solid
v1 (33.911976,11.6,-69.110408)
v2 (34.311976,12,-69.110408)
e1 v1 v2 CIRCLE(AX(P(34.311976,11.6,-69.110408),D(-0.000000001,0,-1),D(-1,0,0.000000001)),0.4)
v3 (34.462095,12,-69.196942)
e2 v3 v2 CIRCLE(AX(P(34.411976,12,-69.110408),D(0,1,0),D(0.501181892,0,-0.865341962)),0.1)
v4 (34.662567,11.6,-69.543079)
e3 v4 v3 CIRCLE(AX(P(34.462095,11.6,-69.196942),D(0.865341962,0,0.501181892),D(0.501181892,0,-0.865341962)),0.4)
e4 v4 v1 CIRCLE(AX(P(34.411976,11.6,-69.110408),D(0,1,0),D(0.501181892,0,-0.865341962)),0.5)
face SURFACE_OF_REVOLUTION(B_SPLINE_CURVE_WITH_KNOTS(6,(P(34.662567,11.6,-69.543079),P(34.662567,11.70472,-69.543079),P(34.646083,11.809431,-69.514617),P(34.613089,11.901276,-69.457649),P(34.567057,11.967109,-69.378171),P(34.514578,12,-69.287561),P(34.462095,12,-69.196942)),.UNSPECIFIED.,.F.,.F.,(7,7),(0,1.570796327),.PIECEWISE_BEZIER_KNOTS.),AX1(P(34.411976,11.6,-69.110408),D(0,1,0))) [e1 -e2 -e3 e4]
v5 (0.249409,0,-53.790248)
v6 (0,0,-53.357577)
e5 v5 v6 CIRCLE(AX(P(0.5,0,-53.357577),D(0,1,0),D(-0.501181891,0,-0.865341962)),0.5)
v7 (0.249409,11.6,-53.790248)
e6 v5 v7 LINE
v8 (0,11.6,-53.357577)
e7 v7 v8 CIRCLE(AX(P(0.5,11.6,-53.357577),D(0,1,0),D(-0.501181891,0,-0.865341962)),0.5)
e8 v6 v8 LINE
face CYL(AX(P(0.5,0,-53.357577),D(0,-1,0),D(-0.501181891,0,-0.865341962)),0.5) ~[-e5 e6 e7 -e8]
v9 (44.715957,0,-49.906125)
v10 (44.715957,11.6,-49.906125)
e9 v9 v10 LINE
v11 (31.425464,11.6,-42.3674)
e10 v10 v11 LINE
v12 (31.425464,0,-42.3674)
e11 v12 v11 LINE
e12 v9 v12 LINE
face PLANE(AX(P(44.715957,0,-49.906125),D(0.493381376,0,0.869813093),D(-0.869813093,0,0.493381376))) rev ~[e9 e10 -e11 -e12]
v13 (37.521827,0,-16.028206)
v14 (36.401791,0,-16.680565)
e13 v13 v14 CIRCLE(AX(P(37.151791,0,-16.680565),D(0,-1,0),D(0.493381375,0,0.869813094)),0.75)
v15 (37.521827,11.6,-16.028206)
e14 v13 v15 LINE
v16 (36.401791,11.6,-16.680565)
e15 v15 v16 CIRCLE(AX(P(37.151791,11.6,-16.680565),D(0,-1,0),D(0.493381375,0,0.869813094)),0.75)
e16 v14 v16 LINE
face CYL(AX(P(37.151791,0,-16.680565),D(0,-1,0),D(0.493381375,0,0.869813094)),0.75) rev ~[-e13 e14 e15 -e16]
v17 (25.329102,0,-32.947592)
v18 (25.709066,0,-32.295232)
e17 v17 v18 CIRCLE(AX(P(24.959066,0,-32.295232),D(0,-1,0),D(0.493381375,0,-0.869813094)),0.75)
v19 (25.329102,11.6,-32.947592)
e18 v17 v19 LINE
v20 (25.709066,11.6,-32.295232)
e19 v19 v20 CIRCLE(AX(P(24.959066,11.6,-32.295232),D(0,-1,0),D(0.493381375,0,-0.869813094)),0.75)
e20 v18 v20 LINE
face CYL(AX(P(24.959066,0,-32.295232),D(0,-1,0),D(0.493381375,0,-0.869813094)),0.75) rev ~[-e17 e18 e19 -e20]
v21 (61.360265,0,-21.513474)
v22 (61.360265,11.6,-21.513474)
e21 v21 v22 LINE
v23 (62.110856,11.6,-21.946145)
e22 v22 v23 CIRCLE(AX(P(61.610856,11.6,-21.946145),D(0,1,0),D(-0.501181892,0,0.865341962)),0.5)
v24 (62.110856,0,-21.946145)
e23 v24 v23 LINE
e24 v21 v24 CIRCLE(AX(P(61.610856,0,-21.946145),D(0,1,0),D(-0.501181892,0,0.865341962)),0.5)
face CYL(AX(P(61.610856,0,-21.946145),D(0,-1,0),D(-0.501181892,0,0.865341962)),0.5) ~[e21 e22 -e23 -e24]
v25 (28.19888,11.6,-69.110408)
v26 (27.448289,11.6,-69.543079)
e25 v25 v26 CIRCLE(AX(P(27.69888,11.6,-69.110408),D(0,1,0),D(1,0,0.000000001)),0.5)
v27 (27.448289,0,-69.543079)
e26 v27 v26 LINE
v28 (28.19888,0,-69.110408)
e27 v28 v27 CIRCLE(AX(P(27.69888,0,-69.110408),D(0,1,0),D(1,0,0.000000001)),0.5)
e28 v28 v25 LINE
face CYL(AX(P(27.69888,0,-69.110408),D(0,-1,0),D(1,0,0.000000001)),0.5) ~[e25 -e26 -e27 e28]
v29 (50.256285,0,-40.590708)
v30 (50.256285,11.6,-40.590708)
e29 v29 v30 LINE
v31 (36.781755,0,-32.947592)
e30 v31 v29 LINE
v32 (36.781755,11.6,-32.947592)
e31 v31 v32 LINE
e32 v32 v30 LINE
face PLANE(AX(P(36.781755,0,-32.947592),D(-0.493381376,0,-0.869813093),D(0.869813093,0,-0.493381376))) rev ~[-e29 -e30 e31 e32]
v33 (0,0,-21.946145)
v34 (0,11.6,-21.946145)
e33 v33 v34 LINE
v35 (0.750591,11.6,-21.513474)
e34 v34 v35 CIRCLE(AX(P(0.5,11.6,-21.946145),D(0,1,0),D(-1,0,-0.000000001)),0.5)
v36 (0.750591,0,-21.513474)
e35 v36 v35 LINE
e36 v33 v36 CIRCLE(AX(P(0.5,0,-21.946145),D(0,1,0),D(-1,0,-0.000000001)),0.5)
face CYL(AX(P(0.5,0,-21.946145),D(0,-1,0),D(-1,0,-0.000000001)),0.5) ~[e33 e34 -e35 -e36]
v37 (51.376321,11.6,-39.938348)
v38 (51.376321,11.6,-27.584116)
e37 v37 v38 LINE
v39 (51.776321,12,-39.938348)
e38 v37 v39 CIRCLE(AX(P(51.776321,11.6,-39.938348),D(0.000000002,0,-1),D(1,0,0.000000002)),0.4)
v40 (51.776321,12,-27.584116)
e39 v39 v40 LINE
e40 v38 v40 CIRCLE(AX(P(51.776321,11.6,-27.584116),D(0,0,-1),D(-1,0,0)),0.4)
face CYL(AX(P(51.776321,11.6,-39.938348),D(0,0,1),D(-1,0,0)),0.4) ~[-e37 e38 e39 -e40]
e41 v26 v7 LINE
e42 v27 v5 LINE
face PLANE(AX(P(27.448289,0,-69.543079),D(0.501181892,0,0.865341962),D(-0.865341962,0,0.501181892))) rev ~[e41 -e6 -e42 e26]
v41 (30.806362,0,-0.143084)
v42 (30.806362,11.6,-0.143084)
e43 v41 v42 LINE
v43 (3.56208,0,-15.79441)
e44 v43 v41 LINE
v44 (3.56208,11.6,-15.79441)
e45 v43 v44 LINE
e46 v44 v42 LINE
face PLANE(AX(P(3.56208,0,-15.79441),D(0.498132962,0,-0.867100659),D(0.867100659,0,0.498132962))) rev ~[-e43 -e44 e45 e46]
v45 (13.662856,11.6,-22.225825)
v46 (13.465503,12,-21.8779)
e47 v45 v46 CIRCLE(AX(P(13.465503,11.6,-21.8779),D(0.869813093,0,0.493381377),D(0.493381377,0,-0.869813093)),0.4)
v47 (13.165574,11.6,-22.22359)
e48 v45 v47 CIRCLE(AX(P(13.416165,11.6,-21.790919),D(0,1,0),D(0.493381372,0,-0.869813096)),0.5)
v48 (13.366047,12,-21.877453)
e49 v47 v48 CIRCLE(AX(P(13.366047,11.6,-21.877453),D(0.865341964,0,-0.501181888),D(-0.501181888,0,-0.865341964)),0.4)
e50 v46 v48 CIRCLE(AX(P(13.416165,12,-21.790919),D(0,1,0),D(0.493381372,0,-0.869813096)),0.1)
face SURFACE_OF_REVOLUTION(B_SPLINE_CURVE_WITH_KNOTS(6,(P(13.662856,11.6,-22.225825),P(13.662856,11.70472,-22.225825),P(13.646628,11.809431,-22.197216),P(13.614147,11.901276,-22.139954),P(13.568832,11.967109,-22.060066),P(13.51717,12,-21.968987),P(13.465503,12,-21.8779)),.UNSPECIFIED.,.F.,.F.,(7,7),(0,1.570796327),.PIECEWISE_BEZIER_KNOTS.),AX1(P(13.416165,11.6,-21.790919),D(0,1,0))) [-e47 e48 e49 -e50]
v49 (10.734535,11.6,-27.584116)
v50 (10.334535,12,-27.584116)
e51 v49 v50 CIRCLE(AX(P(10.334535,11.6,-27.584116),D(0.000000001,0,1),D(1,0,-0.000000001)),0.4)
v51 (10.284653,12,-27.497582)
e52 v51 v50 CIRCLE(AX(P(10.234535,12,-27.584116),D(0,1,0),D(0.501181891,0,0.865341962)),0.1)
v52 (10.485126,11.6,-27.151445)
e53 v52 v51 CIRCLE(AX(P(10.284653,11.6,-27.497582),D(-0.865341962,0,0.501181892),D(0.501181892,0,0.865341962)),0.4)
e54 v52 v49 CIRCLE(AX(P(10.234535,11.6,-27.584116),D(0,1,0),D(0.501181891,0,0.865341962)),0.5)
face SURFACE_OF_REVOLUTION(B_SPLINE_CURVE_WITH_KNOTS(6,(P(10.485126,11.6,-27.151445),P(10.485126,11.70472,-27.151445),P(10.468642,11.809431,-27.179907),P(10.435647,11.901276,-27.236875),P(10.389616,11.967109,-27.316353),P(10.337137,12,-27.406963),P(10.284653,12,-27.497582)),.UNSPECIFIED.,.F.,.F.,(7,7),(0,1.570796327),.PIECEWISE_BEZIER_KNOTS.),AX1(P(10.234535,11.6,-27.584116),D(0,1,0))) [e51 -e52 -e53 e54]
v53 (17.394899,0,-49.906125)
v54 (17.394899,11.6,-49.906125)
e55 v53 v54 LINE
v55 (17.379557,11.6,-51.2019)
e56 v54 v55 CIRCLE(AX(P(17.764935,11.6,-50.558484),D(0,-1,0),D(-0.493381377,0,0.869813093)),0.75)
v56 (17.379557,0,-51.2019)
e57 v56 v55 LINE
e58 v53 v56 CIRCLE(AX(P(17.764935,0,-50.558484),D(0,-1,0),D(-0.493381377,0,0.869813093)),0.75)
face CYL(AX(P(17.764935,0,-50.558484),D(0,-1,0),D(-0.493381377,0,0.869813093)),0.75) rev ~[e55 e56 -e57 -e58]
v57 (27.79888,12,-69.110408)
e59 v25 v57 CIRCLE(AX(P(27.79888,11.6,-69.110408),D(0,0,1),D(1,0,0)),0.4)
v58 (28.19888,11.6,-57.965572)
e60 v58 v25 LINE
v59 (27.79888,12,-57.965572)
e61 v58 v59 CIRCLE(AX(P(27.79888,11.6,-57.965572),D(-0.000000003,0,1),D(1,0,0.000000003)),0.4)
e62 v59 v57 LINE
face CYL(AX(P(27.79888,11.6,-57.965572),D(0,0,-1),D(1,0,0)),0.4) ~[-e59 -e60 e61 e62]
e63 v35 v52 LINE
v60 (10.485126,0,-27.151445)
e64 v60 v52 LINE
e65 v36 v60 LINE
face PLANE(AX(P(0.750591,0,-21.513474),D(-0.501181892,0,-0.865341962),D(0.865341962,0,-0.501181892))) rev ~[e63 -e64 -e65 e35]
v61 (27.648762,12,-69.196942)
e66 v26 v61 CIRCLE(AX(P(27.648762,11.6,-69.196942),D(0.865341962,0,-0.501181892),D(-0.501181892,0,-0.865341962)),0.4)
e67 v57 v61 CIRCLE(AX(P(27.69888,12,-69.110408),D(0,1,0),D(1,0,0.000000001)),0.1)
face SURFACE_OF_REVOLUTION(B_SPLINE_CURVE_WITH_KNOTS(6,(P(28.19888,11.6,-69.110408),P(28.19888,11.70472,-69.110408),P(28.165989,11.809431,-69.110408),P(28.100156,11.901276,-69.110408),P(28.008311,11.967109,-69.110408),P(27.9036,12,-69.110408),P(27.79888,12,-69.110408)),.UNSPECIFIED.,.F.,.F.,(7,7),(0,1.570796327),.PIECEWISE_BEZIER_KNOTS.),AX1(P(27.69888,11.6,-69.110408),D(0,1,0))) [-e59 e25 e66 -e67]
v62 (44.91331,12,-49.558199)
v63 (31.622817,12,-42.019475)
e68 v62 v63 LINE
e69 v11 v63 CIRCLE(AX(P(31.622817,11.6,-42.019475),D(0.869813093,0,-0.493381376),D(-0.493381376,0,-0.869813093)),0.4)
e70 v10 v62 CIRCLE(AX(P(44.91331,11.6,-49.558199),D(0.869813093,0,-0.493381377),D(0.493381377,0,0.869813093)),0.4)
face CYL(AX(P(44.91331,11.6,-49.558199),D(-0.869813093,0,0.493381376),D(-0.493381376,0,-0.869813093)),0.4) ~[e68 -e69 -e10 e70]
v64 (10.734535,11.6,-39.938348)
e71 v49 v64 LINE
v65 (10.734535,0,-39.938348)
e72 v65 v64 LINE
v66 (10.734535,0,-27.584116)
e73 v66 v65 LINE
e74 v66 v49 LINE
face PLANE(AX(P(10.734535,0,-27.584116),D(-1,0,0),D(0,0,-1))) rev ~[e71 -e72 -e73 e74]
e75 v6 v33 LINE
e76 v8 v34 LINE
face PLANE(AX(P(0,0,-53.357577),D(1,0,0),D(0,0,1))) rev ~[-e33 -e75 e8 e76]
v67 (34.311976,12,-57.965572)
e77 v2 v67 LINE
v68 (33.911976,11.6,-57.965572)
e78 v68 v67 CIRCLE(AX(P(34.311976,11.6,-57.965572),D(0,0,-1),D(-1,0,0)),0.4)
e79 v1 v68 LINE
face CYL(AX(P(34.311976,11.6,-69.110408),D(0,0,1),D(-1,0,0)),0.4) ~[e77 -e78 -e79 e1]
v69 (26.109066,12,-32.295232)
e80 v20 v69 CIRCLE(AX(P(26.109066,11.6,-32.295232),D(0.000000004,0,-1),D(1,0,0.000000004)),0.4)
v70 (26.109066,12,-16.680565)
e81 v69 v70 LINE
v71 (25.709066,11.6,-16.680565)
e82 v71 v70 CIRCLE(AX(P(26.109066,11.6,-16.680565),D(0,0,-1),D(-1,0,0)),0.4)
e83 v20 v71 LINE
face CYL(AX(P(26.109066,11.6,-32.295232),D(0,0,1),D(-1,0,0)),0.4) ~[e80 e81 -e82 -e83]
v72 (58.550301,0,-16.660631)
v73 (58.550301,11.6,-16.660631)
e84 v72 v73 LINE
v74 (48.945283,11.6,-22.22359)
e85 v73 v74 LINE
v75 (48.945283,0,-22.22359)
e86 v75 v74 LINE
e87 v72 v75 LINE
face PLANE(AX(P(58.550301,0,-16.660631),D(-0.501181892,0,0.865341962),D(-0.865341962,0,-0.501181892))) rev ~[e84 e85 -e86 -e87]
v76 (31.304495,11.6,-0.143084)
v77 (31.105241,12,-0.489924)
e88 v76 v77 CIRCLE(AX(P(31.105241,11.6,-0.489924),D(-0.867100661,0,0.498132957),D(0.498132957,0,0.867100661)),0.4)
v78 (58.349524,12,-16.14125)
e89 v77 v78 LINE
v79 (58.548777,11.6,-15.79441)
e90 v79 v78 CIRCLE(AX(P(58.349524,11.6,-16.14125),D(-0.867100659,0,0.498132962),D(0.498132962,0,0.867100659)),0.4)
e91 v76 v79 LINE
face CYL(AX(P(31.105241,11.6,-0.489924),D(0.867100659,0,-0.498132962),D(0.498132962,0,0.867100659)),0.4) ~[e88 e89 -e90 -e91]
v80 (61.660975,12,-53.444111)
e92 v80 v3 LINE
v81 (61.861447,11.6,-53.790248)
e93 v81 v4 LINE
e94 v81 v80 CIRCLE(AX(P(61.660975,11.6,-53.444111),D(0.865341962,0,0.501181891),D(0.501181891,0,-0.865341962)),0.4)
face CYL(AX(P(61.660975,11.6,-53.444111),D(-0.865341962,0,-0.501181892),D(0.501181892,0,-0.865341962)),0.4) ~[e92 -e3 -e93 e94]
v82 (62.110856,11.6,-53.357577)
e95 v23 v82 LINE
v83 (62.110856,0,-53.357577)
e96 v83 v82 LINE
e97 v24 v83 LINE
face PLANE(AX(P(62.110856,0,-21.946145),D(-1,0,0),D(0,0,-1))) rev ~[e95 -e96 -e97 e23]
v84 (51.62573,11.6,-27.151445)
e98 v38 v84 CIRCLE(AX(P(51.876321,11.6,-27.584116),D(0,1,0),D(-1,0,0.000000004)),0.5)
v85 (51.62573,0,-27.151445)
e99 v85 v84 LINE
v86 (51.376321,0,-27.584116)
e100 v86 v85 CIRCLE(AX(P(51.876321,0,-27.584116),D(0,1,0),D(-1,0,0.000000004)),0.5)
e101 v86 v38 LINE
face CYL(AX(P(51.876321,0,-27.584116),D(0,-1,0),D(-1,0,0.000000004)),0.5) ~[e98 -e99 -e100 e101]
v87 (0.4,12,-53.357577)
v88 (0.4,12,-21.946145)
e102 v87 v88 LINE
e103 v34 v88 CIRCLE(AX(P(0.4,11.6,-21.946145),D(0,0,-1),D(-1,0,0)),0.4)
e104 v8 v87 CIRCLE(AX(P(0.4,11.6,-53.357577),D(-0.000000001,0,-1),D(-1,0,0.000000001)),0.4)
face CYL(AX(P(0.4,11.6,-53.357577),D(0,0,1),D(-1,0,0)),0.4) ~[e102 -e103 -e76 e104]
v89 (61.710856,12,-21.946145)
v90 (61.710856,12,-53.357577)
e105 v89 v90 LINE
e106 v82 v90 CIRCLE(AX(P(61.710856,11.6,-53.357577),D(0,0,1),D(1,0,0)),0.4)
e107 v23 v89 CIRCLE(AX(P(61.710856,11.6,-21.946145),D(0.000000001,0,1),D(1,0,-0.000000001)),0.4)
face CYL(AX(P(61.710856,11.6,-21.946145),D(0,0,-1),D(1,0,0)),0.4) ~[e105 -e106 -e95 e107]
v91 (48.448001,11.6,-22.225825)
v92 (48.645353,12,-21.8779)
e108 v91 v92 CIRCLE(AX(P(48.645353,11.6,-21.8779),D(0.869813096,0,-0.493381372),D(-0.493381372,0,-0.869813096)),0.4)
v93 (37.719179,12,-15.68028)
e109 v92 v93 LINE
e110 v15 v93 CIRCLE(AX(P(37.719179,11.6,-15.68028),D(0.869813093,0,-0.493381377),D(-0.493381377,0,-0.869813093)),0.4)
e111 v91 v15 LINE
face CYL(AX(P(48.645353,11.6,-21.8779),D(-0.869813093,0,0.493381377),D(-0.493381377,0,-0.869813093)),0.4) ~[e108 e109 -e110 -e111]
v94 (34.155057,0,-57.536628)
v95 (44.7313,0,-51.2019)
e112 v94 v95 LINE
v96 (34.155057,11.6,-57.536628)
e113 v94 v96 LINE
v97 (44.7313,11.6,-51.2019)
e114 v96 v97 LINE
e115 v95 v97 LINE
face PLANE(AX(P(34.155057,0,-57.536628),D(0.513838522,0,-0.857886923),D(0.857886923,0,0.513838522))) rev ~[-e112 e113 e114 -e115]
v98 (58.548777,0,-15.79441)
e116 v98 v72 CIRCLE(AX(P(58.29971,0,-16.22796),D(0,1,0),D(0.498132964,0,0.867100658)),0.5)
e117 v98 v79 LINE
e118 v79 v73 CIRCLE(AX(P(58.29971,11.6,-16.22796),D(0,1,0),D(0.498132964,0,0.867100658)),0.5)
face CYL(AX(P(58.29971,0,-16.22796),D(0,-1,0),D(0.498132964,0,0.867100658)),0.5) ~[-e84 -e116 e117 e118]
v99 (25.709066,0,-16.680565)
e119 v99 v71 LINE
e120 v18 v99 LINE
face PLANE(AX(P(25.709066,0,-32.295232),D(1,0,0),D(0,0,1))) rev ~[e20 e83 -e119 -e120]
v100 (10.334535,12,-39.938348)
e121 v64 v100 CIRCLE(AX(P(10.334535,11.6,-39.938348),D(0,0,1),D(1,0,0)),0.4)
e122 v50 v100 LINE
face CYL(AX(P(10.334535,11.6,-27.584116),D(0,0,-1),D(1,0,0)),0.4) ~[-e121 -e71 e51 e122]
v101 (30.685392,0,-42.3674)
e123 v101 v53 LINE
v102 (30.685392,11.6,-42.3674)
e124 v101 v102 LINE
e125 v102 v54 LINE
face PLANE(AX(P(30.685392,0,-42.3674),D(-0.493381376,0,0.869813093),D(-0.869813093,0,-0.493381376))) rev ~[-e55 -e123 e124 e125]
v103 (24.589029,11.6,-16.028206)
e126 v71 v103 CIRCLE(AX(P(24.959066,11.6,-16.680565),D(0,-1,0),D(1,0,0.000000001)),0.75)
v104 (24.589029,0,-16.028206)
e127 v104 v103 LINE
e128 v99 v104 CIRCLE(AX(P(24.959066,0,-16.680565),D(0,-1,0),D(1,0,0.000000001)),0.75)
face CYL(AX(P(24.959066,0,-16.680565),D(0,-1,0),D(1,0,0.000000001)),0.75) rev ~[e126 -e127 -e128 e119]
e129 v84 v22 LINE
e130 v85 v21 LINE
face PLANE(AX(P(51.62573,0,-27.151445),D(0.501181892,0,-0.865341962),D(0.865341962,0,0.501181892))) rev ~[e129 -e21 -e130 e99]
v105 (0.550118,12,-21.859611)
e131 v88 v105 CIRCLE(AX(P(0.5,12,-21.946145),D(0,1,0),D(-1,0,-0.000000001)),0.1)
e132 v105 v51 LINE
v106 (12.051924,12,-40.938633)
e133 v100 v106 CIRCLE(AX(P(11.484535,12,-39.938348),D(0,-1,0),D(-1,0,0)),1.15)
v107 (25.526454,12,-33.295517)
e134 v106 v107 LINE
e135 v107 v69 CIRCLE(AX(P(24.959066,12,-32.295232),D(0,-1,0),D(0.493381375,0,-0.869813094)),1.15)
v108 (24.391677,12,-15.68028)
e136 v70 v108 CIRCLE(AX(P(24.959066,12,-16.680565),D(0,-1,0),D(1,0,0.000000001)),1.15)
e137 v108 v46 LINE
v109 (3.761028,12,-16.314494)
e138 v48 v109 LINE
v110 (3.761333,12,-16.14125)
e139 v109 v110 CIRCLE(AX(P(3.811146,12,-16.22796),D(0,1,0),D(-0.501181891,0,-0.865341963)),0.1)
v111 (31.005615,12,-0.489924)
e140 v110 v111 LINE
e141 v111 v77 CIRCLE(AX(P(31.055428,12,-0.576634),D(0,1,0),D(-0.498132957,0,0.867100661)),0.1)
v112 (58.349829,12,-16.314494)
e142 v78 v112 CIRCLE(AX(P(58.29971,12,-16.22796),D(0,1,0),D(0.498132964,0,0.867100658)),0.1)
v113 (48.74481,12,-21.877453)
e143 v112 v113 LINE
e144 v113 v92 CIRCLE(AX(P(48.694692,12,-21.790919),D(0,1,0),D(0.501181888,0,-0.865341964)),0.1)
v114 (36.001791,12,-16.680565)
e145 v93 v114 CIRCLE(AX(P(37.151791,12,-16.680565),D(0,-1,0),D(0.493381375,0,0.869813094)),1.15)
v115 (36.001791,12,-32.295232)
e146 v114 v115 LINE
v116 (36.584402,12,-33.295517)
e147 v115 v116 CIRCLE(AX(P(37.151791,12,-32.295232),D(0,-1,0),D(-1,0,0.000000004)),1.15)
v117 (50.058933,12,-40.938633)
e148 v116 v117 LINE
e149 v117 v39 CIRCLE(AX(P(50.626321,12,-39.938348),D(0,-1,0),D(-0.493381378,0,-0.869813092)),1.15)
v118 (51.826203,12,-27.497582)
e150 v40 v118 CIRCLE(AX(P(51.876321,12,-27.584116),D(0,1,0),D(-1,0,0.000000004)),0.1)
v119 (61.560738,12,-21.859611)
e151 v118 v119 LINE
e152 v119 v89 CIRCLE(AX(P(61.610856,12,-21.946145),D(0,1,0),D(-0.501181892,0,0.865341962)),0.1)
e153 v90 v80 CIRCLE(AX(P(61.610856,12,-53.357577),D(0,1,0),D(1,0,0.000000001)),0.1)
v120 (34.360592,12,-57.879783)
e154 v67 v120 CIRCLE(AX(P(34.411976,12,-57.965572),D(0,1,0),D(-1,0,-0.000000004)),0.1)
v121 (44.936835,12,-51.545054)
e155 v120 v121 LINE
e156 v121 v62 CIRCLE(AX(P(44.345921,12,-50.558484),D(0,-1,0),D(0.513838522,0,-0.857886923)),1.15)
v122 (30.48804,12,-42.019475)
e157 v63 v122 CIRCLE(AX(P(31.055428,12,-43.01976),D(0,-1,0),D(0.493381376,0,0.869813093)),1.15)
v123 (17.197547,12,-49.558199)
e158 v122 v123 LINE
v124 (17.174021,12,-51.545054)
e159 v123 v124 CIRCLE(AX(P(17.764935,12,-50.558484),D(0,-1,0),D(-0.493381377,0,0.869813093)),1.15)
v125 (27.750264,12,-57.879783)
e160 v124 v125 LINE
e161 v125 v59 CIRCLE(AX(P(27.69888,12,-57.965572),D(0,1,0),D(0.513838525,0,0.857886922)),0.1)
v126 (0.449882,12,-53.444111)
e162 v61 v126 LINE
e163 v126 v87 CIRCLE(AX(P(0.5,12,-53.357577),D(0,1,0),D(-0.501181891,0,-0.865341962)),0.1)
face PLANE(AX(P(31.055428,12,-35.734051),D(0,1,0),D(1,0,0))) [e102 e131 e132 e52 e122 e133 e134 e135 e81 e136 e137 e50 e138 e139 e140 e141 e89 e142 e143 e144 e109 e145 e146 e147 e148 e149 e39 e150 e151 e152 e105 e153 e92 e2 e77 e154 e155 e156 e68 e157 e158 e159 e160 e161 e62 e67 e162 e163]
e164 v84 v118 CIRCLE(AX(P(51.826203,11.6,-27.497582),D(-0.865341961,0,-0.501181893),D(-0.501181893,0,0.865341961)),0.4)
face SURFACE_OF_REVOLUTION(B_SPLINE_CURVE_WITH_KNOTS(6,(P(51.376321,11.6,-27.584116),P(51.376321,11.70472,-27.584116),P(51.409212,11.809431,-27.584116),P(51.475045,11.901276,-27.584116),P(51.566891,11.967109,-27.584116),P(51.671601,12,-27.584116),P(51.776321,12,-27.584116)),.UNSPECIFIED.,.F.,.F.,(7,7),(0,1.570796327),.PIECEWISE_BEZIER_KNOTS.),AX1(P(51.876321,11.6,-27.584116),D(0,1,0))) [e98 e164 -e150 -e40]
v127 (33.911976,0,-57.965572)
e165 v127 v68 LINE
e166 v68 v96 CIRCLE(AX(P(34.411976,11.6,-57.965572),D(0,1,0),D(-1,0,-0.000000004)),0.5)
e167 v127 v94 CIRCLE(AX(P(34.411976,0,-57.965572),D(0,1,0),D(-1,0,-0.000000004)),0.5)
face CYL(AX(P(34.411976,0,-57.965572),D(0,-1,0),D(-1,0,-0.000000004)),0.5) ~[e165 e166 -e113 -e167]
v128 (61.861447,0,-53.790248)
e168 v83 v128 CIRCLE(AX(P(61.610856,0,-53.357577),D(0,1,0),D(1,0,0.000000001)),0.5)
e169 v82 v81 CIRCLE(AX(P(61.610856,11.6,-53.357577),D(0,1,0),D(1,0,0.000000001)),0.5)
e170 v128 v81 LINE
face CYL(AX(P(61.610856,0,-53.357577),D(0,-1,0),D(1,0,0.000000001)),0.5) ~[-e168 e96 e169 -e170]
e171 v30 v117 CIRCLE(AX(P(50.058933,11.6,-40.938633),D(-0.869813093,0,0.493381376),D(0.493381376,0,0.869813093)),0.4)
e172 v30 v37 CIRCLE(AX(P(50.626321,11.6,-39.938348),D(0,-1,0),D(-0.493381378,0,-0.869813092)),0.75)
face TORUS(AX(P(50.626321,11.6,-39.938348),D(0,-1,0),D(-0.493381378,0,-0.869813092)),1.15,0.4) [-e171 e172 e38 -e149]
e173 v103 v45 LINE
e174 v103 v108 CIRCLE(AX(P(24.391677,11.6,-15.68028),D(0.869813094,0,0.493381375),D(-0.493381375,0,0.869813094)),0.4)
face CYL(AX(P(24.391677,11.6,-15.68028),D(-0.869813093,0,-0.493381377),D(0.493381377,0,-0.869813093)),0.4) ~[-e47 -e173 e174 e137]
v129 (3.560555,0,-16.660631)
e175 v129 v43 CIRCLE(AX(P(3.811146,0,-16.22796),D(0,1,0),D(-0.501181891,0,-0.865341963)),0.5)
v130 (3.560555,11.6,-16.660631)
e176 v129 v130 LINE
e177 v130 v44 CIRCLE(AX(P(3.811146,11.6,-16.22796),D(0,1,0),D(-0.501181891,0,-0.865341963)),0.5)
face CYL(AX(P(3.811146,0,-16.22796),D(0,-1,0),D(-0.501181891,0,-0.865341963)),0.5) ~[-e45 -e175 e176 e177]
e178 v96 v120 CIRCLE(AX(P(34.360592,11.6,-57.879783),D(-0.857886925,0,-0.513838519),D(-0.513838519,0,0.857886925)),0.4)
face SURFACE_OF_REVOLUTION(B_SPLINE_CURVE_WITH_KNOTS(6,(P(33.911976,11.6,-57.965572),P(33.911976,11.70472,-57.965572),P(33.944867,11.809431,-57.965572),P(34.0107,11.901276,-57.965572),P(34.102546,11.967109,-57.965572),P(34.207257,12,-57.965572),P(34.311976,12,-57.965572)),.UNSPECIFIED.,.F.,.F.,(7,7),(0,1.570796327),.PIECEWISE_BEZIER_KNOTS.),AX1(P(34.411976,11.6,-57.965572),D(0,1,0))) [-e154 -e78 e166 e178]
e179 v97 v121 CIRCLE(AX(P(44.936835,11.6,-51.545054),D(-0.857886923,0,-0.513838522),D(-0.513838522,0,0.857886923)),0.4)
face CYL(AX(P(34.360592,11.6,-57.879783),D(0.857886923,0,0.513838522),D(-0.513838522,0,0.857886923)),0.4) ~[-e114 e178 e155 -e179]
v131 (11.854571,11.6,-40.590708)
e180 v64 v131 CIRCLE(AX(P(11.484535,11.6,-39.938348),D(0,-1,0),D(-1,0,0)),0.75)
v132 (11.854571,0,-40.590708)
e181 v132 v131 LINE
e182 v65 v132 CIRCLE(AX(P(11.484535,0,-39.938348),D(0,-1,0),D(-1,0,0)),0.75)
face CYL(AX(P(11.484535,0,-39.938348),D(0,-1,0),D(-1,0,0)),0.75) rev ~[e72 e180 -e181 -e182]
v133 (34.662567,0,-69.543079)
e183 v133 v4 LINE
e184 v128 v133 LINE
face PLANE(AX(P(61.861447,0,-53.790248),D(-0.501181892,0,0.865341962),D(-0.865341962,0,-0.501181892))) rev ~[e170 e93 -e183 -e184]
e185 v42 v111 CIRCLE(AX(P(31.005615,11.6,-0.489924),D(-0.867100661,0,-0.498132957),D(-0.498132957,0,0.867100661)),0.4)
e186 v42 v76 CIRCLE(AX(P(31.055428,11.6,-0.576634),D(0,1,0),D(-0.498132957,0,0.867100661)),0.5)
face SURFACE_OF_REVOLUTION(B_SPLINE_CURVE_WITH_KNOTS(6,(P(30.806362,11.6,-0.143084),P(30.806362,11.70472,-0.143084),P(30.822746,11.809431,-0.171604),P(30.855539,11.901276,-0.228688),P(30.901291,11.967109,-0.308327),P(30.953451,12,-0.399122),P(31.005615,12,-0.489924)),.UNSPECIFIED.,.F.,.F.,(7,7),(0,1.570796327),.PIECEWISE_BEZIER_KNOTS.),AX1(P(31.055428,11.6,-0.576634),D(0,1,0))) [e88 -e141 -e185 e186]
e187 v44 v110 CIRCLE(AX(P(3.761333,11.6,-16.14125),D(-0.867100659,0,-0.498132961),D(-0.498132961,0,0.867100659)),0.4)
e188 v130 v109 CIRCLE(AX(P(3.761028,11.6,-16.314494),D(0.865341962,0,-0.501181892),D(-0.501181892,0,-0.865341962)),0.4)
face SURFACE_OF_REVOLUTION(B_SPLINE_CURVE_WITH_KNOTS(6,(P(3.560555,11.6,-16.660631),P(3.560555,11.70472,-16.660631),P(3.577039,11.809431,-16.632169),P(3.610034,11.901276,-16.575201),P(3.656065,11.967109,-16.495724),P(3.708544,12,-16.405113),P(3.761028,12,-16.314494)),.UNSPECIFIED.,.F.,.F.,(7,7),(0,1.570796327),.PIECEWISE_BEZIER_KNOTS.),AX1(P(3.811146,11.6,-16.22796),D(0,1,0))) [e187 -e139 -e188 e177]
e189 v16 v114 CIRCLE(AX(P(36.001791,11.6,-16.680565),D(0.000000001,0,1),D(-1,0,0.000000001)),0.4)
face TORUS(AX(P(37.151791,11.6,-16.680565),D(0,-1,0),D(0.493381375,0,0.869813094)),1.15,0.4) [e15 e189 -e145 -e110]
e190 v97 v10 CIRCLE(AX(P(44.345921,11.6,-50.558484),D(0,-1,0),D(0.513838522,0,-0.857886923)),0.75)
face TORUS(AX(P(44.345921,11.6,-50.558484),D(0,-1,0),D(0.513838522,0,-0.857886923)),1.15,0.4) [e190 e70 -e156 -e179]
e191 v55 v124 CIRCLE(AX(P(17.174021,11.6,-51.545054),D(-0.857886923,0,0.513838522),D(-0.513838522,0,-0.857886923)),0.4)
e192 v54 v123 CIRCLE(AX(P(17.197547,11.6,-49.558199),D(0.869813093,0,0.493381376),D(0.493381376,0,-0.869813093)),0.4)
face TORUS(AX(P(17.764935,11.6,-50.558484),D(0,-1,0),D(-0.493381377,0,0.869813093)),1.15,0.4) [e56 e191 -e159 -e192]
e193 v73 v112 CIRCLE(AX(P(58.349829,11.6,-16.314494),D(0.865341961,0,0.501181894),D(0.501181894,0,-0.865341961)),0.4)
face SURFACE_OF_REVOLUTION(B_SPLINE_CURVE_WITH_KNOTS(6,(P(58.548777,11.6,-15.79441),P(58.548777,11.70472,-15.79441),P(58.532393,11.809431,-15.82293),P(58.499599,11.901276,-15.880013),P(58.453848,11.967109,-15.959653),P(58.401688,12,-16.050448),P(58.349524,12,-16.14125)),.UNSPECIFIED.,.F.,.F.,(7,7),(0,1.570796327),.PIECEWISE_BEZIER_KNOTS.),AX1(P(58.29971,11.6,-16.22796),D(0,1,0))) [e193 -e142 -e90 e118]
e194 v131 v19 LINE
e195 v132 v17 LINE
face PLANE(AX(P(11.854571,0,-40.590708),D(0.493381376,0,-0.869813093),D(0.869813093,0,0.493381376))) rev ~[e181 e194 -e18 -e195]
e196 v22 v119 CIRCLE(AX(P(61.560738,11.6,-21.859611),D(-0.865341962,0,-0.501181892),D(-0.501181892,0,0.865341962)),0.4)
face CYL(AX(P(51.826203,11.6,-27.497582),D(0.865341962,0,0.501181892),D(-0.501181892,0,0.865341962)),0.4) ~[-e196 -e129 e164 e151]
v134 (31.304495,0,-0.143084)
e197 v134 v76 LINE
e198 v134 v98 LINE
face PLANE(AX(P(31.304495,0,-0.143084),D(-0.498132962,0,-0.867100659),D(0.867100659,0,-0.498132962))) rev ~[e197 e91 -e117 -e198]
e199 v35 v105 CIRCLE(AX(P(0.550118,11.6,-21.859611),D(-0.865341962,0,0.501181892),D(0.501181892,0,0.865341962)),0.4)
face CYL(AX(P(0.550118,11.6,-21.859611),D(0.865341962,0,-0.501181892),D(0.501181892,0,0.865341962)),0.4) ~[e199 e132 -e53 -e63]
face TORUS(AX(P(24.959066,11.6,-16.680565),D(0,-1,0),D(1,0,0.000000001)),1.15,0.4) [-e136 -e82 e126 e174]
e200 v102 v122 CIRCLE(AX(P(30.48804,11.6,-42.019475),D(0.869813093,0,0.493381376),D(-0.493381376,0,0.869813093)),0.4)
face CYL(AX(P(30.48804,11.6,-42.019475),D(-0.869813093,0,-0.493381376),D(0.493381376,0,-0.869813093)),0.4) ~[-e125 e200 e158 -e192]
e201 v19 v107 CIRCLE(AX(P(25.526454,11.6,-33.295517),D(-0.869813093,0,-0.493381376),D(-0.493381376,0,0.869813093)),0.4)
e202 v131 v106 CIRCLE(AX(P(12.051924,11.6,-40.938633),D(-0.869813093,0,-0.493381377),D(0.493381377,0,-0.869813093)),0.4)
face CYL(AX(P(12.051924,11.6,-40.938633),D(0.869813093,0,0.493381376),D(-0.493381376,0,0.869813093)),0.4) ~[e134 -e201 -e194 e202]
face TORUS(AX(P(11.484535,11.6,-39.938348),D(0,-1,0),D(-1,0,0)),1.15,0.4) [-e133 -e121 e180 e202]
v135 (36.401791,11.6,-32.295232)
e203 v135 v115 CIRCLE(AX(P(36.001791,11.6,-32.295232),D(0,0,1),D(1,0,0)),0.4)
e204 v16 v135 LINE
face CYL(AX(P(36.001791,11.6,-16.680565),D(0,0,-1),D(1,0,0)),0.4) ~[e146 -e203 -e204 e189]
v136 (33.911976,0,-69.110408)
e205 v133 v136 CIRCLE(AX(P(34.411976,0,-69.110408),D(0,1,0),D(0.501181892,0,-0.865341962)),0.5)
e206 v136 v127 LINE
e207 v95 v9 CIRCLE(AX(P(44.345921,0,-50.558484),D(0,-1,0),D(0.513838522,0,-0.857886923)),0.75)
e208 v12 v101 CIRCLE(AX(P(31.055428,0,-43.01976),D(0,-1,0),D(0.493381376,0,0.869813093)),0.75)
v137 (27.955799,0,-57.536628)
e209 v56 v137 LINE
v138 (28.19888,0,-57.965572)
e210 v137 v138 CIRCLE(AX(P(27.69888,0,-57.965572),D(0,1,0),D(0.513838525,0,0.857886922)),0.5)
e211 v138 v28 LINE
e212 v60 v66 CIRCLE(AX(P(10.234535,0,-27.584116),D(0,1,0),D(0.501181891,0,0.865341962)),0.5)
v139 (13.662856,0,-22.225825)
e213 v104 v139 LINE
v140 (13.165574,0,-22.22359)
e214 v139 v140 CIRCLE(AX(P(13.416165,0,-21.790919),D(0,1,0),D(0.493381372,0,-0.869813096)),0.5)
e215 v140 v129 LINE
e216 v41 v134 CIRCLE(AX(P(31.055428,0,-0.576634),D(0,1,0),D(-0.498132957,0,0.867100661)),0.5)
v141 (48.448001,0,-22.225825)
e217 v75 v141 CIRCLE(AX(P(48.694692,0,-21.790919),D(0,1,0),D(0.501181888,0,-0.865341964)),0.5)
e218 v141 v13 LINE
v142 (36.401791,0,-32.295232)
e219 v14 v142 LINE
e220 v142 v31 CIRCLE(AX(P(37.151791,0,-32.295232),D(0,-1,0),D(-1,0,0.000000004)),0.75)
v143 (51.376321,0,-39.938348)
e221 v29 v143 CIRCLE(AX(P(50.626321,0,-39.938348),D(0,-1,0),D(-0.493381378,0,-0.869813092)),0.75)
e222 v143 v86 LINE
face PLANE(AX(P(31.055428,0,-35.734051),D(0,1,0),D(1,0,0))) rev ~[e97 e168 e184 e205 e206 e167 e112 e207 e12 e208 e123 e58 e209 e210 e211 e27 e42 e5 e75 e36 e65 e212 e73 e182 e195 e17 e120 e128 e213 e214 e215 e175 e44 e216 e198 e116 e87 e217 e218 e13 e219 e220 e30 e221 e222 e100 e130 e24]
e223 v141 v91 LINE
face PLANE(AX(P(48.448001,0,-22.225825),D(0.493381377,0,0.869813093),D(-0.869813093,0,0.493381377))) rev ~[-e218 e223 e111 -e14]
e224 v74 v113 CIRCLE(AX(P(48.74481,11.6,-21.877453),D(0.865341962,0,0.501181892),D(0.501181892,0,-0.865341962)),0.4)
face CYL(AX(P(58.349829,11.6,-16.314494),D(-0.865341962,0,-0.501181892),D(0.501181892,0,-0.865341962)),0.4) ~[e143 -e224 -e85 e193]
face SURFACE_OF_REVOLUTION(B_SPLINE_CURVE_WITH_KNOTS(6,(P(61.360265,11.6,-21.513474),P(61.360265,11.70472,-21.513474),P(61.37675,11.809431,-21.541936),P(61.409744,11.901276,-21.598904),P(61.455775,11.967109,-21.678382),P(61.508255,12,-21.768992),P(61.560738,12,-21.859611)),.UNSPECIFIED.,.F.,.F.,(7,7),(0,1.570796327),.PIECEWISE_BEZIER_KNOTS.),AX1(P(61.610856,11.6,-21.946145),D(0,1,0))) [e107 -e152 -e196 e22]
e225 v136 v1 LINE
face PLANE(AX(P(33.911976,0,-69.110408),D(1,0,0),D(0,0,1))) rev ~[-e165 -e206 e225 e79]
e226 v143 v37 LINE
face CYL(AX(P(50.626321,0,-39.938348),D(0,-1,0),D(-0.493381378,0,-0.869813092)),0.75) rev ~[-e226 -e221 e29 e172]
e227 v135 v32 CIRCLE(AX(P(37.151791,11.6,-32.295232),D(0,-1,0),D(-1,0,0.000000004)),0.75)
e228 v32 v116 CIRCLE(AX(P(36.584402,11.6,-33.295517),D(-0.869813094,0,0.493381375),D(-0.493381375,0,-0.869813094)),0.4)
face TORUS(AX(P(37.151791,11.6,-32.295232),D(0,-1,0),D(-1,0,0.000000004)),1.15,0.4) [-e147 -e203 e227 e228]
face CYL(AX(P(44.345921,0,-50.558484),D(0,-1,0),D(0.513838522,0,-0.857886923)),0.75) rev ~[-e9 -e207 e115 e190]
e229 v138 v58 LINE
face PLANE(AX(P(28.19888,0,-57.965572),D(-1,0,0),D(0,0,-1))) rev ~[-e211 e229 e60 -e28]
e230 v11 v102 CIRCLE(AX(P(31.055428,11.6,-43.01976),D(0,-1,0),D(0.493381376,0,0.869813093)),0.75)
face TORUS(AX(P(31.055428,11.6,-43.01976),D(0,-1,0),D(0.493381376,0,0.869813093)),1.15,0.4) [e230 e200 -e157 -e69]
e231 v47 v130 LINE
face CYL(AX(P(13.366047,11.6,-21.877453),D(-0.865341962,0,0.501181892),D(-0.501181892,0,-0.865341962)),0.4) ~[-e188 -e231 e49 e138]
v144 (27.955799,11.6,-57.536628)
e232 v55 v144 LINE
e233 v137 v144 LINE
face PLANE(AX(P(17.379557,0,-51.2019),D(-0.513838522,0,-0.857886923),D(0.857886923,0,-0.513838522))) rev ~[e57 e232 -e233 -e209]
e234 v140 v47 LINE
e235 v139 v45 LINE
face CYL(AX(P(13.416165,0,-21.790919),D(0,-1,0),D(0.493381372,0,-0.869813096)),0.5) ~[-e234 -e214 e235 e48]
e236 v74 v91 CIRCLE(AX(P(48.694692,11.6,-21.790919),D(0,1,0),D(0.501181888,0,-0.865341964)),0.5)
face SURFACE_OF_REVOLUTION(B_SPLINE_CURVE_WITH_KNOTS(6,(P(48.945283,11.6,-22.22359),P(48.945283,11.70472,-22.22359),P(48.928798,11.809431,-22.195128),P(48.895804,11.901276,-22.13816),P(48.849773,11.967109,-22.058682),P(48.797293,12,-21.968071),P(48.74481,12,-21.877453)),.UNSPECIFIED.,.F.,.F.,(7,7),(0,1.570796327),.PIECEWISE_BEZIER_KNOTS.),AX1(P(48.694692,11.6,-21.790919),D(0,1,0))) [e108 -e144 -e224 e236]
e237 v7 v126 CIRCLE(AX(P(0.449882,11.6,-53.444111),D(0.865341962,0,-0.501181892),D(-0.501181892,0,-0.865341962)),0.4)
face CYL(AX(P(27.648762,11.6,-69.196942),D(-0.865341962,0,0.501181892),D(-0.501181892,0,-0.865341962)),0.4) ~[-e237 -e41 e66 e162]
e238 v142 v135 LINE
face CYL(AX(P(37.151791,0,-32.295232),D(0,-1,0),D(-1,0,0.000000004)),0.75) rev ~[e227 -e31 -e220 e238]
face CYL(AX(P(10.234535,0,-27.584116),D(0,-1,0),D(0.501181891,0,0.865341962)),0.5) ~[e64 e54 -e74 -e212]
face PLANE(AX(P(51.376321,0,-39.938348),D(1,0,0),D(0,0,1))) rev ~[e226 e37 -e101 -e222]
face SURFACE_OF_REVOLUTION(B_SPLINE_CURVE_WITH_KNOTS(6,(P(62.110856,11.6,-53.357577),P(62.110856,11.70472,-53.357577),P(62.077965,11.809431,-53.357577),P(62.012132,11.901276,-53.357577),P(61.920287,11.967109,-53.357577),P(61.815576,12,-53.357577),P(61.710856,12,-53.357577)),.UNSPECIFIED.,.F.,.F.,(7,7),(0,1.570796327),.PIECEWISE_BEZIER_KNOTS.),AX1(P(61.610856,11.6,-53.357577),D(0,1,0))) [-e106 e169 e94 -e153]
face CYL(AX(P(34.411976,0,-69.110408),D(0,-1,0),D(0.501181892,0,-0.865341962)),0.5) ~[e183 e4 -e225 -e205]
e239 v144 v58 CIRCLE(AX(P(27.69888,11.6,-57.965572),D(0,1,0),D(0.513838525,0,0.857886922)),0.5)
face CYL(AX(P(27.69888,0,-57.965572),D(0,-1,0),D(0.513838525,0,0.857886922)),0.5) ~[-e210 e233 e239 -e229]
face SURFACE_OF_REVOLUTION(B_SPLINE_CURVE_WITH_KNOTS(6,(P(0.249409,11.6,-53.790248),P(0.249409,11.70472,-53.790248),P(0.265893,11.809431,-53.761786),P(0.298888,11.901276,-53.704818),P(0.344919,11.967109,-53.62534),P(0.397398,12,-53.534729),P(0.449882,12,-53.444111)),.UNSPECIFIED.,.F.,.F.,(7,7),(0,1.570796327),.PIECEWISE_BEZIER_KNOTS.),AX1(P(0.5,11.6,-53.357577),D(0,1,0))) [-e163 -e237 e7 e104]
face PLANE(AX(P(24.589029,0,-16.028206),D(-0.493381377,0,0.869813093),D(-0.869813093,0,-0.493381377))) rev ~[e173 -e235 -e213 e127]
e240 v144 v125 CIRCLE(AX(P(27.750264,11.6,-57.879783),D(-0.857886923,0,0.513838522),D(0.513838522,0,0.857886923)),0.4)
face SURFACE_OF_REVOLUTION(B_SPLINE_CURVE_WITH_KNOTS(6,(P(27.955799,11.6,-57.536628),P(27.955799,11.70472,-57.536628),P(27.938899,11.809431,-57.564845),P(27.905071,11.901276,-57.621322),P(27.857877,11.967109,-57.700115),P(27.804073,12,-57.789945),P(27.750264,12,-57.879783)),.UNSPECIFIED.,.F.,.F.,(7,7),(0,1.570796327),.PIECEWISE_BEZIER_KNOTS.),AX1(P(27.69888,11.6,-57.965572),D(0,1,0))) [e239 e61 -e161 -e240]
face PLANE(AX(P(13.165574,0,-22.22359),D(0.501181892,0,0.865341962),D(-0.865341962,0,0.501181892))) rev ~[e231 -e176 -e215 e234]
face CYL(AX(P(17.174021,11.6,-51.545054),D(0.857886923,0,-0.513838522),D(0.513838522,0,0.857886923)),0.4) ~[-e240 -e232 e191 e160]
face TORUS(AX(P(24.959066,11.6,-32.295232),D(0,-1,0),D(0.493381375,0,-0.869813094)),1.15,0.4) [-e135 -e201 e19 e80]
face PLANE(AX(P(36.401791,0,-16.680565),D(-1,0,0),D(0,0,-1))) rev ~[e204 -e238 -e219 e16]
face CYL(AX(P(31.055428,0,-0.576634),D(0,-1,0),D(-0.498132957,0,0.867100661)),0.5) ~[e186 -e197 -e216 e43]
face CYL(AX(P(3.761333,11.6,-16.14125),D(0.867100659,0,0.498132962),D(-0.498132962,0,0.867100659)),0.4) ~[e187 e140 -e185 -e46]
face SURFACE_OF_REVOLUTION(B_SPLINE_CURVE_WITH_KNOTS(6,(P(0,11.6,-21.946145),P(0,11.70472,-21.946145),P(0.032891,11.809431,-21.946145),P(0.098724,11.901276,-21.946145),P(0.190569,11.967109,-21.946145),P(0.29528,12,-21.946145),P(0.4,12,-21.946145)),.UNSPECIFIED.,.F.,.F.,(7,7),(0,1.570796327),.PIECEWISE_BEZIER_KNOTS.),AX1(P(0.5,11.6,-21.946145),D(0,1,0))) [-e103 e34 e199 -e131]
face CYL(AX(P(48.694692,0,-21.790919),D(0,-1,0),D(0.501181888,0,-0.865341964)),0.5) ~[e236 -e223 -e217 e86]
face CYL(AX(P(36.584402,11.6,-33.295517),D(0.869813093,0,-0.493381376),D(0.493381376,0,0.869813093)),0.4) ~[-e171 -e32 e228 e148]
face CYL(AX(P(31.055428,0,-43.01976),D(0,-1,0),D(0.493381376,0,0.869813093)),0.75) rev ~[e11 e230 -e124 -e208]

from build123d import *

# Parameters (mm, degrees)
BOSS_EXTRUDE1_DEPTH = 12
FILLET1_R           = 0.4


with BuildPart() as part:
    # Sketch2 → Boss-Extrude1 (new body)
    with BuildSketch(Plane(origin=(0, 0, 0), x_dir=(1, 0, 0), z_dir=(0, 1, 0))):
        with BuildLine():
            Line((30.685392159, 42.367399762), (17.394899403, 49.906124645))
            ThreePointArc((17.394899403, 49.906124645), (17.014988006, 50.549604576), (17.379556544, 51.201899657))
            Line((17.379556544, 51.201899657), (27.955799295, 57.536628388))
            ThreePointArc((27.955799295, 57.536628388), (28.133885568, 57.719055755), (28.198880034, 57.96557185))
            Line((28.198880034, 57.96557185), (28.198880034, 69.110408185))
            ThreePointArc((28.198880034, 69.110408185), (27.948584386, 69.543591445), (27.448289088, 69.543079166))
            Line((27.448289088, 69.543079166), (0.249409054, 53.790247635))
            ThreePointArc((0.249409054, 53.790247635), (0.06681674, 53.607281006), (0, 53.357576654))
            Line((0, 53.357576654), (0, 21.946144977))
            ThreePointArc((0, 21.946144977), (0.250295648, 21.512961717), (0.750590946, 21.513473996))
            Line((0.750590946, 21.513473996), (10.485126092, 27.151444824))
            ThreePointArc((10.485126092, 27.151444824), (10.667718406, 27.334411453), (10.734535146, 27.584115805))
            Line((10.734535146, 27.584115805), (10.734535146, 39.938347903))
            ThreePointArc((10.734535146, 39.938347903), (11.107061322, 40.586432398), (11.854571179, 40.590707723))
            Line((11.854571179, 40.590707723), (25.329101543, 32.94759176))
            ThreePointArc((25.329101543, 32.94759176), (25.607150005, 32.672705765), (25.70906551, 32.29523194))
            Line((25.70906551, 32.29523194), (25.70906551, 16.68056549))
            ThreePointArc((25.70906551, 16.68056549), (25.336539334, 16.032480996), (24.589029478, 16.02820567))
            Line((24.589029478, 16.02820567), (13.662855507, 22.22582536))
            ThreePointArc((13.662855507, 22.22582536), (13.413917055, 22.29091376), (13.165573873, 22.223589794))
            Line((13.165573873, 22.223589794), (3.560555046, 16.6606312))
            ThreePointArc((3.560555046, 16.6606312), (3.311146766, 16.227080269), (3.562079511, 15.79440989))
            Line((3.562079511, 15.79440989), (30.80636171, 0.143083992))
            ThreePointArc((30.80636171, 0.143083992), (31.055428191, 0.076634322), (31.304494672, 0.143083992))
            Line((31.304494672, 0.143083992), (58.548776872, 15.79440989))
            ThreePointArc((58.548776872, 15.79440989), (58.799709616, 16.227080269), (58.550301337, 16.6606312))
            Line((58.550301337, 16.6606312), (48.94528251, 22.223589794))
            ThreePointArc((48.94528251, 22.223589794), (48.696939328, 22.29091376), (48.448000876, 22.22582536))
            Line((48.448000876, 22.22582536), (37.521826905, 16.02820567))
            ThreePointArc((37.521826905, 16.02820567), (36.774317049, 16.032480996), (36.401790873, 16.68056549))
            Line((36.401790873, 16.68056549), (36.401790873, 32.29523194))
            ThreePointArc((36.401790873, 32.29523194), (36.503706378, 32.672705765), (36.78175484, 32.94759176))
            Line((36.78175484, 32.94759176), (50.256285204, 40.590707723))
            ThreePointArc((50.256285204, 40.590707723), (51.003795061, 40.586432398), (51.376321236, 39.938347903))
            Line((51.376321236, 39.938347903), (51.376321236, 27.584115805))
            ThreePointArc((51.376321236, 27.584115805), (51.443137977, 27.334411453), (51.625730291, 27.151444824))
            Line((51.625730291, 27.151444824), (61.360265437, 21.513473996))
            ThreePointArc((61.360265437, 21.513473996), (61.860560735, 21.512961717), (62.110856383, 21.946144977))
            Line((62.110856383, 21.946144977), (62.110856383, 53.357576654))
            ThreePointArc((62.110856383, 53.357576654), (62.044039643, 53.607281006), (61.861447329, 53.790247635))
            Line((61.861447329, 53.790247635), (34.662567295, 69.543079166))
            ThreePointArc((34.662567295, 69.543079166), (34.162271997, 69.543591445), (33.911976349, 69.110408185))
            Line((33.911976349, 69.110408185), (33.911976349, 57.96557185))
            ThreePointArc((33.911976349, 57.96557185), (33.976970814, 57.719055755), (34.155057088, 57.536628388))
            Line((34.155057088, 57.536628388), (44.731299839, 51.201899657))
            ThreePointArc((44.731299839, 51.201899657), (45.095868377, 50.549604576), (44.71595698, 49.906124645))
            Line((44.71595698, 49.906124645), (31.425464224, 42.367399762))
            ThreePointArc((31.425464224, 42.367399762), (31.055428191, 42.269759582), (30.685392159, 42.367399762))
        make_face()
    extrude(amount=BOSS_EXTRUDE1_DEPTH)

    # Fillet1
    fillet1_edges = [part.edges().sort_by_distance(p)[0] for p in [
        (31.055428191, 12, -0.076634322),
        (44.926635772, 12, -7.968746941),
        (58.799709616, 12, -16.227080269),
        (53.747791923, 12, -19.442110497),
        (48.696939328, 12, -22.29091376),
        (42.98491389, 12, -19.127015515),
        (36.774317049, 12, -16.032480996),
        (36.401790873, 12, -24.487898715),
        (17.014988006, 12, -50.549604576),
        (36.503706378, 12, -32.672705765),
        (43.519020022, 12, -36.769149742),
        (51.003795061, 12, -40.586432398),
        (51.376321236, 12, -33.761231854),
        (51.443137977, 12, -27.334411453),
        (56.492997864, 12, -24.33245941),
        (61.860560735, 12, -21.512961717),
        (62.110856383, 12, -37.651860815),
        (62.044039643, 12, -53.607281006),
        (48.262007312, 12, -61.666663401),
        (22.667677919, 12, -54.369264023),
        (34.162271997, 12, -69.543591445),
        (33.911976349, 12, -63.537990018),
        (33.976970814, 12, -57.719055755),
        (39.443178463, 12, -54.369264023),
        (45.095868377, 12, -50.549604576),
        (38.070710602, 12, -46.136762203),
        (28.133885568, 12, -57.719055755),
        (28.198880034, 12, -63.537990018),
        (27.948584386, 12, -69.543591445),
        (13.848849071, 12, -61.666663401),
        (0.06681674, 12, -53.607281006),
        (0, 12, -37.651860815),
        (0.250295648, 12, -21.512961717),
        (5.617858519, 12, -24.33245941),
        (31.055428191, 12, -42.269759582),
        (10.667718406, 12, -27.334411453),
        (10.734535146, 12, -33.761231854),
        (11.107061322, 12, -40.586432398),
        (18.591836361, 12, -36.769149742),
        (25.607150005, 12, -32.672705765),
        (25.70906551, 12, -24.487898715),
        (25.336539334, 12, -16.032480996),
        (19.125942492, 12, -19.127015515),
        (13.413917055, 12, -22.29091376),
        (8.36306446, 12, -19.442110497),
        (24.040145781, 12, -46.136762203),
        (3.311146766, 12, -16.227080269),
        (17.184220611, 12, -7.968746941),
    ]]
    fillet(fillet1_edges, radius=FILLET1_R)


solid = part.part
